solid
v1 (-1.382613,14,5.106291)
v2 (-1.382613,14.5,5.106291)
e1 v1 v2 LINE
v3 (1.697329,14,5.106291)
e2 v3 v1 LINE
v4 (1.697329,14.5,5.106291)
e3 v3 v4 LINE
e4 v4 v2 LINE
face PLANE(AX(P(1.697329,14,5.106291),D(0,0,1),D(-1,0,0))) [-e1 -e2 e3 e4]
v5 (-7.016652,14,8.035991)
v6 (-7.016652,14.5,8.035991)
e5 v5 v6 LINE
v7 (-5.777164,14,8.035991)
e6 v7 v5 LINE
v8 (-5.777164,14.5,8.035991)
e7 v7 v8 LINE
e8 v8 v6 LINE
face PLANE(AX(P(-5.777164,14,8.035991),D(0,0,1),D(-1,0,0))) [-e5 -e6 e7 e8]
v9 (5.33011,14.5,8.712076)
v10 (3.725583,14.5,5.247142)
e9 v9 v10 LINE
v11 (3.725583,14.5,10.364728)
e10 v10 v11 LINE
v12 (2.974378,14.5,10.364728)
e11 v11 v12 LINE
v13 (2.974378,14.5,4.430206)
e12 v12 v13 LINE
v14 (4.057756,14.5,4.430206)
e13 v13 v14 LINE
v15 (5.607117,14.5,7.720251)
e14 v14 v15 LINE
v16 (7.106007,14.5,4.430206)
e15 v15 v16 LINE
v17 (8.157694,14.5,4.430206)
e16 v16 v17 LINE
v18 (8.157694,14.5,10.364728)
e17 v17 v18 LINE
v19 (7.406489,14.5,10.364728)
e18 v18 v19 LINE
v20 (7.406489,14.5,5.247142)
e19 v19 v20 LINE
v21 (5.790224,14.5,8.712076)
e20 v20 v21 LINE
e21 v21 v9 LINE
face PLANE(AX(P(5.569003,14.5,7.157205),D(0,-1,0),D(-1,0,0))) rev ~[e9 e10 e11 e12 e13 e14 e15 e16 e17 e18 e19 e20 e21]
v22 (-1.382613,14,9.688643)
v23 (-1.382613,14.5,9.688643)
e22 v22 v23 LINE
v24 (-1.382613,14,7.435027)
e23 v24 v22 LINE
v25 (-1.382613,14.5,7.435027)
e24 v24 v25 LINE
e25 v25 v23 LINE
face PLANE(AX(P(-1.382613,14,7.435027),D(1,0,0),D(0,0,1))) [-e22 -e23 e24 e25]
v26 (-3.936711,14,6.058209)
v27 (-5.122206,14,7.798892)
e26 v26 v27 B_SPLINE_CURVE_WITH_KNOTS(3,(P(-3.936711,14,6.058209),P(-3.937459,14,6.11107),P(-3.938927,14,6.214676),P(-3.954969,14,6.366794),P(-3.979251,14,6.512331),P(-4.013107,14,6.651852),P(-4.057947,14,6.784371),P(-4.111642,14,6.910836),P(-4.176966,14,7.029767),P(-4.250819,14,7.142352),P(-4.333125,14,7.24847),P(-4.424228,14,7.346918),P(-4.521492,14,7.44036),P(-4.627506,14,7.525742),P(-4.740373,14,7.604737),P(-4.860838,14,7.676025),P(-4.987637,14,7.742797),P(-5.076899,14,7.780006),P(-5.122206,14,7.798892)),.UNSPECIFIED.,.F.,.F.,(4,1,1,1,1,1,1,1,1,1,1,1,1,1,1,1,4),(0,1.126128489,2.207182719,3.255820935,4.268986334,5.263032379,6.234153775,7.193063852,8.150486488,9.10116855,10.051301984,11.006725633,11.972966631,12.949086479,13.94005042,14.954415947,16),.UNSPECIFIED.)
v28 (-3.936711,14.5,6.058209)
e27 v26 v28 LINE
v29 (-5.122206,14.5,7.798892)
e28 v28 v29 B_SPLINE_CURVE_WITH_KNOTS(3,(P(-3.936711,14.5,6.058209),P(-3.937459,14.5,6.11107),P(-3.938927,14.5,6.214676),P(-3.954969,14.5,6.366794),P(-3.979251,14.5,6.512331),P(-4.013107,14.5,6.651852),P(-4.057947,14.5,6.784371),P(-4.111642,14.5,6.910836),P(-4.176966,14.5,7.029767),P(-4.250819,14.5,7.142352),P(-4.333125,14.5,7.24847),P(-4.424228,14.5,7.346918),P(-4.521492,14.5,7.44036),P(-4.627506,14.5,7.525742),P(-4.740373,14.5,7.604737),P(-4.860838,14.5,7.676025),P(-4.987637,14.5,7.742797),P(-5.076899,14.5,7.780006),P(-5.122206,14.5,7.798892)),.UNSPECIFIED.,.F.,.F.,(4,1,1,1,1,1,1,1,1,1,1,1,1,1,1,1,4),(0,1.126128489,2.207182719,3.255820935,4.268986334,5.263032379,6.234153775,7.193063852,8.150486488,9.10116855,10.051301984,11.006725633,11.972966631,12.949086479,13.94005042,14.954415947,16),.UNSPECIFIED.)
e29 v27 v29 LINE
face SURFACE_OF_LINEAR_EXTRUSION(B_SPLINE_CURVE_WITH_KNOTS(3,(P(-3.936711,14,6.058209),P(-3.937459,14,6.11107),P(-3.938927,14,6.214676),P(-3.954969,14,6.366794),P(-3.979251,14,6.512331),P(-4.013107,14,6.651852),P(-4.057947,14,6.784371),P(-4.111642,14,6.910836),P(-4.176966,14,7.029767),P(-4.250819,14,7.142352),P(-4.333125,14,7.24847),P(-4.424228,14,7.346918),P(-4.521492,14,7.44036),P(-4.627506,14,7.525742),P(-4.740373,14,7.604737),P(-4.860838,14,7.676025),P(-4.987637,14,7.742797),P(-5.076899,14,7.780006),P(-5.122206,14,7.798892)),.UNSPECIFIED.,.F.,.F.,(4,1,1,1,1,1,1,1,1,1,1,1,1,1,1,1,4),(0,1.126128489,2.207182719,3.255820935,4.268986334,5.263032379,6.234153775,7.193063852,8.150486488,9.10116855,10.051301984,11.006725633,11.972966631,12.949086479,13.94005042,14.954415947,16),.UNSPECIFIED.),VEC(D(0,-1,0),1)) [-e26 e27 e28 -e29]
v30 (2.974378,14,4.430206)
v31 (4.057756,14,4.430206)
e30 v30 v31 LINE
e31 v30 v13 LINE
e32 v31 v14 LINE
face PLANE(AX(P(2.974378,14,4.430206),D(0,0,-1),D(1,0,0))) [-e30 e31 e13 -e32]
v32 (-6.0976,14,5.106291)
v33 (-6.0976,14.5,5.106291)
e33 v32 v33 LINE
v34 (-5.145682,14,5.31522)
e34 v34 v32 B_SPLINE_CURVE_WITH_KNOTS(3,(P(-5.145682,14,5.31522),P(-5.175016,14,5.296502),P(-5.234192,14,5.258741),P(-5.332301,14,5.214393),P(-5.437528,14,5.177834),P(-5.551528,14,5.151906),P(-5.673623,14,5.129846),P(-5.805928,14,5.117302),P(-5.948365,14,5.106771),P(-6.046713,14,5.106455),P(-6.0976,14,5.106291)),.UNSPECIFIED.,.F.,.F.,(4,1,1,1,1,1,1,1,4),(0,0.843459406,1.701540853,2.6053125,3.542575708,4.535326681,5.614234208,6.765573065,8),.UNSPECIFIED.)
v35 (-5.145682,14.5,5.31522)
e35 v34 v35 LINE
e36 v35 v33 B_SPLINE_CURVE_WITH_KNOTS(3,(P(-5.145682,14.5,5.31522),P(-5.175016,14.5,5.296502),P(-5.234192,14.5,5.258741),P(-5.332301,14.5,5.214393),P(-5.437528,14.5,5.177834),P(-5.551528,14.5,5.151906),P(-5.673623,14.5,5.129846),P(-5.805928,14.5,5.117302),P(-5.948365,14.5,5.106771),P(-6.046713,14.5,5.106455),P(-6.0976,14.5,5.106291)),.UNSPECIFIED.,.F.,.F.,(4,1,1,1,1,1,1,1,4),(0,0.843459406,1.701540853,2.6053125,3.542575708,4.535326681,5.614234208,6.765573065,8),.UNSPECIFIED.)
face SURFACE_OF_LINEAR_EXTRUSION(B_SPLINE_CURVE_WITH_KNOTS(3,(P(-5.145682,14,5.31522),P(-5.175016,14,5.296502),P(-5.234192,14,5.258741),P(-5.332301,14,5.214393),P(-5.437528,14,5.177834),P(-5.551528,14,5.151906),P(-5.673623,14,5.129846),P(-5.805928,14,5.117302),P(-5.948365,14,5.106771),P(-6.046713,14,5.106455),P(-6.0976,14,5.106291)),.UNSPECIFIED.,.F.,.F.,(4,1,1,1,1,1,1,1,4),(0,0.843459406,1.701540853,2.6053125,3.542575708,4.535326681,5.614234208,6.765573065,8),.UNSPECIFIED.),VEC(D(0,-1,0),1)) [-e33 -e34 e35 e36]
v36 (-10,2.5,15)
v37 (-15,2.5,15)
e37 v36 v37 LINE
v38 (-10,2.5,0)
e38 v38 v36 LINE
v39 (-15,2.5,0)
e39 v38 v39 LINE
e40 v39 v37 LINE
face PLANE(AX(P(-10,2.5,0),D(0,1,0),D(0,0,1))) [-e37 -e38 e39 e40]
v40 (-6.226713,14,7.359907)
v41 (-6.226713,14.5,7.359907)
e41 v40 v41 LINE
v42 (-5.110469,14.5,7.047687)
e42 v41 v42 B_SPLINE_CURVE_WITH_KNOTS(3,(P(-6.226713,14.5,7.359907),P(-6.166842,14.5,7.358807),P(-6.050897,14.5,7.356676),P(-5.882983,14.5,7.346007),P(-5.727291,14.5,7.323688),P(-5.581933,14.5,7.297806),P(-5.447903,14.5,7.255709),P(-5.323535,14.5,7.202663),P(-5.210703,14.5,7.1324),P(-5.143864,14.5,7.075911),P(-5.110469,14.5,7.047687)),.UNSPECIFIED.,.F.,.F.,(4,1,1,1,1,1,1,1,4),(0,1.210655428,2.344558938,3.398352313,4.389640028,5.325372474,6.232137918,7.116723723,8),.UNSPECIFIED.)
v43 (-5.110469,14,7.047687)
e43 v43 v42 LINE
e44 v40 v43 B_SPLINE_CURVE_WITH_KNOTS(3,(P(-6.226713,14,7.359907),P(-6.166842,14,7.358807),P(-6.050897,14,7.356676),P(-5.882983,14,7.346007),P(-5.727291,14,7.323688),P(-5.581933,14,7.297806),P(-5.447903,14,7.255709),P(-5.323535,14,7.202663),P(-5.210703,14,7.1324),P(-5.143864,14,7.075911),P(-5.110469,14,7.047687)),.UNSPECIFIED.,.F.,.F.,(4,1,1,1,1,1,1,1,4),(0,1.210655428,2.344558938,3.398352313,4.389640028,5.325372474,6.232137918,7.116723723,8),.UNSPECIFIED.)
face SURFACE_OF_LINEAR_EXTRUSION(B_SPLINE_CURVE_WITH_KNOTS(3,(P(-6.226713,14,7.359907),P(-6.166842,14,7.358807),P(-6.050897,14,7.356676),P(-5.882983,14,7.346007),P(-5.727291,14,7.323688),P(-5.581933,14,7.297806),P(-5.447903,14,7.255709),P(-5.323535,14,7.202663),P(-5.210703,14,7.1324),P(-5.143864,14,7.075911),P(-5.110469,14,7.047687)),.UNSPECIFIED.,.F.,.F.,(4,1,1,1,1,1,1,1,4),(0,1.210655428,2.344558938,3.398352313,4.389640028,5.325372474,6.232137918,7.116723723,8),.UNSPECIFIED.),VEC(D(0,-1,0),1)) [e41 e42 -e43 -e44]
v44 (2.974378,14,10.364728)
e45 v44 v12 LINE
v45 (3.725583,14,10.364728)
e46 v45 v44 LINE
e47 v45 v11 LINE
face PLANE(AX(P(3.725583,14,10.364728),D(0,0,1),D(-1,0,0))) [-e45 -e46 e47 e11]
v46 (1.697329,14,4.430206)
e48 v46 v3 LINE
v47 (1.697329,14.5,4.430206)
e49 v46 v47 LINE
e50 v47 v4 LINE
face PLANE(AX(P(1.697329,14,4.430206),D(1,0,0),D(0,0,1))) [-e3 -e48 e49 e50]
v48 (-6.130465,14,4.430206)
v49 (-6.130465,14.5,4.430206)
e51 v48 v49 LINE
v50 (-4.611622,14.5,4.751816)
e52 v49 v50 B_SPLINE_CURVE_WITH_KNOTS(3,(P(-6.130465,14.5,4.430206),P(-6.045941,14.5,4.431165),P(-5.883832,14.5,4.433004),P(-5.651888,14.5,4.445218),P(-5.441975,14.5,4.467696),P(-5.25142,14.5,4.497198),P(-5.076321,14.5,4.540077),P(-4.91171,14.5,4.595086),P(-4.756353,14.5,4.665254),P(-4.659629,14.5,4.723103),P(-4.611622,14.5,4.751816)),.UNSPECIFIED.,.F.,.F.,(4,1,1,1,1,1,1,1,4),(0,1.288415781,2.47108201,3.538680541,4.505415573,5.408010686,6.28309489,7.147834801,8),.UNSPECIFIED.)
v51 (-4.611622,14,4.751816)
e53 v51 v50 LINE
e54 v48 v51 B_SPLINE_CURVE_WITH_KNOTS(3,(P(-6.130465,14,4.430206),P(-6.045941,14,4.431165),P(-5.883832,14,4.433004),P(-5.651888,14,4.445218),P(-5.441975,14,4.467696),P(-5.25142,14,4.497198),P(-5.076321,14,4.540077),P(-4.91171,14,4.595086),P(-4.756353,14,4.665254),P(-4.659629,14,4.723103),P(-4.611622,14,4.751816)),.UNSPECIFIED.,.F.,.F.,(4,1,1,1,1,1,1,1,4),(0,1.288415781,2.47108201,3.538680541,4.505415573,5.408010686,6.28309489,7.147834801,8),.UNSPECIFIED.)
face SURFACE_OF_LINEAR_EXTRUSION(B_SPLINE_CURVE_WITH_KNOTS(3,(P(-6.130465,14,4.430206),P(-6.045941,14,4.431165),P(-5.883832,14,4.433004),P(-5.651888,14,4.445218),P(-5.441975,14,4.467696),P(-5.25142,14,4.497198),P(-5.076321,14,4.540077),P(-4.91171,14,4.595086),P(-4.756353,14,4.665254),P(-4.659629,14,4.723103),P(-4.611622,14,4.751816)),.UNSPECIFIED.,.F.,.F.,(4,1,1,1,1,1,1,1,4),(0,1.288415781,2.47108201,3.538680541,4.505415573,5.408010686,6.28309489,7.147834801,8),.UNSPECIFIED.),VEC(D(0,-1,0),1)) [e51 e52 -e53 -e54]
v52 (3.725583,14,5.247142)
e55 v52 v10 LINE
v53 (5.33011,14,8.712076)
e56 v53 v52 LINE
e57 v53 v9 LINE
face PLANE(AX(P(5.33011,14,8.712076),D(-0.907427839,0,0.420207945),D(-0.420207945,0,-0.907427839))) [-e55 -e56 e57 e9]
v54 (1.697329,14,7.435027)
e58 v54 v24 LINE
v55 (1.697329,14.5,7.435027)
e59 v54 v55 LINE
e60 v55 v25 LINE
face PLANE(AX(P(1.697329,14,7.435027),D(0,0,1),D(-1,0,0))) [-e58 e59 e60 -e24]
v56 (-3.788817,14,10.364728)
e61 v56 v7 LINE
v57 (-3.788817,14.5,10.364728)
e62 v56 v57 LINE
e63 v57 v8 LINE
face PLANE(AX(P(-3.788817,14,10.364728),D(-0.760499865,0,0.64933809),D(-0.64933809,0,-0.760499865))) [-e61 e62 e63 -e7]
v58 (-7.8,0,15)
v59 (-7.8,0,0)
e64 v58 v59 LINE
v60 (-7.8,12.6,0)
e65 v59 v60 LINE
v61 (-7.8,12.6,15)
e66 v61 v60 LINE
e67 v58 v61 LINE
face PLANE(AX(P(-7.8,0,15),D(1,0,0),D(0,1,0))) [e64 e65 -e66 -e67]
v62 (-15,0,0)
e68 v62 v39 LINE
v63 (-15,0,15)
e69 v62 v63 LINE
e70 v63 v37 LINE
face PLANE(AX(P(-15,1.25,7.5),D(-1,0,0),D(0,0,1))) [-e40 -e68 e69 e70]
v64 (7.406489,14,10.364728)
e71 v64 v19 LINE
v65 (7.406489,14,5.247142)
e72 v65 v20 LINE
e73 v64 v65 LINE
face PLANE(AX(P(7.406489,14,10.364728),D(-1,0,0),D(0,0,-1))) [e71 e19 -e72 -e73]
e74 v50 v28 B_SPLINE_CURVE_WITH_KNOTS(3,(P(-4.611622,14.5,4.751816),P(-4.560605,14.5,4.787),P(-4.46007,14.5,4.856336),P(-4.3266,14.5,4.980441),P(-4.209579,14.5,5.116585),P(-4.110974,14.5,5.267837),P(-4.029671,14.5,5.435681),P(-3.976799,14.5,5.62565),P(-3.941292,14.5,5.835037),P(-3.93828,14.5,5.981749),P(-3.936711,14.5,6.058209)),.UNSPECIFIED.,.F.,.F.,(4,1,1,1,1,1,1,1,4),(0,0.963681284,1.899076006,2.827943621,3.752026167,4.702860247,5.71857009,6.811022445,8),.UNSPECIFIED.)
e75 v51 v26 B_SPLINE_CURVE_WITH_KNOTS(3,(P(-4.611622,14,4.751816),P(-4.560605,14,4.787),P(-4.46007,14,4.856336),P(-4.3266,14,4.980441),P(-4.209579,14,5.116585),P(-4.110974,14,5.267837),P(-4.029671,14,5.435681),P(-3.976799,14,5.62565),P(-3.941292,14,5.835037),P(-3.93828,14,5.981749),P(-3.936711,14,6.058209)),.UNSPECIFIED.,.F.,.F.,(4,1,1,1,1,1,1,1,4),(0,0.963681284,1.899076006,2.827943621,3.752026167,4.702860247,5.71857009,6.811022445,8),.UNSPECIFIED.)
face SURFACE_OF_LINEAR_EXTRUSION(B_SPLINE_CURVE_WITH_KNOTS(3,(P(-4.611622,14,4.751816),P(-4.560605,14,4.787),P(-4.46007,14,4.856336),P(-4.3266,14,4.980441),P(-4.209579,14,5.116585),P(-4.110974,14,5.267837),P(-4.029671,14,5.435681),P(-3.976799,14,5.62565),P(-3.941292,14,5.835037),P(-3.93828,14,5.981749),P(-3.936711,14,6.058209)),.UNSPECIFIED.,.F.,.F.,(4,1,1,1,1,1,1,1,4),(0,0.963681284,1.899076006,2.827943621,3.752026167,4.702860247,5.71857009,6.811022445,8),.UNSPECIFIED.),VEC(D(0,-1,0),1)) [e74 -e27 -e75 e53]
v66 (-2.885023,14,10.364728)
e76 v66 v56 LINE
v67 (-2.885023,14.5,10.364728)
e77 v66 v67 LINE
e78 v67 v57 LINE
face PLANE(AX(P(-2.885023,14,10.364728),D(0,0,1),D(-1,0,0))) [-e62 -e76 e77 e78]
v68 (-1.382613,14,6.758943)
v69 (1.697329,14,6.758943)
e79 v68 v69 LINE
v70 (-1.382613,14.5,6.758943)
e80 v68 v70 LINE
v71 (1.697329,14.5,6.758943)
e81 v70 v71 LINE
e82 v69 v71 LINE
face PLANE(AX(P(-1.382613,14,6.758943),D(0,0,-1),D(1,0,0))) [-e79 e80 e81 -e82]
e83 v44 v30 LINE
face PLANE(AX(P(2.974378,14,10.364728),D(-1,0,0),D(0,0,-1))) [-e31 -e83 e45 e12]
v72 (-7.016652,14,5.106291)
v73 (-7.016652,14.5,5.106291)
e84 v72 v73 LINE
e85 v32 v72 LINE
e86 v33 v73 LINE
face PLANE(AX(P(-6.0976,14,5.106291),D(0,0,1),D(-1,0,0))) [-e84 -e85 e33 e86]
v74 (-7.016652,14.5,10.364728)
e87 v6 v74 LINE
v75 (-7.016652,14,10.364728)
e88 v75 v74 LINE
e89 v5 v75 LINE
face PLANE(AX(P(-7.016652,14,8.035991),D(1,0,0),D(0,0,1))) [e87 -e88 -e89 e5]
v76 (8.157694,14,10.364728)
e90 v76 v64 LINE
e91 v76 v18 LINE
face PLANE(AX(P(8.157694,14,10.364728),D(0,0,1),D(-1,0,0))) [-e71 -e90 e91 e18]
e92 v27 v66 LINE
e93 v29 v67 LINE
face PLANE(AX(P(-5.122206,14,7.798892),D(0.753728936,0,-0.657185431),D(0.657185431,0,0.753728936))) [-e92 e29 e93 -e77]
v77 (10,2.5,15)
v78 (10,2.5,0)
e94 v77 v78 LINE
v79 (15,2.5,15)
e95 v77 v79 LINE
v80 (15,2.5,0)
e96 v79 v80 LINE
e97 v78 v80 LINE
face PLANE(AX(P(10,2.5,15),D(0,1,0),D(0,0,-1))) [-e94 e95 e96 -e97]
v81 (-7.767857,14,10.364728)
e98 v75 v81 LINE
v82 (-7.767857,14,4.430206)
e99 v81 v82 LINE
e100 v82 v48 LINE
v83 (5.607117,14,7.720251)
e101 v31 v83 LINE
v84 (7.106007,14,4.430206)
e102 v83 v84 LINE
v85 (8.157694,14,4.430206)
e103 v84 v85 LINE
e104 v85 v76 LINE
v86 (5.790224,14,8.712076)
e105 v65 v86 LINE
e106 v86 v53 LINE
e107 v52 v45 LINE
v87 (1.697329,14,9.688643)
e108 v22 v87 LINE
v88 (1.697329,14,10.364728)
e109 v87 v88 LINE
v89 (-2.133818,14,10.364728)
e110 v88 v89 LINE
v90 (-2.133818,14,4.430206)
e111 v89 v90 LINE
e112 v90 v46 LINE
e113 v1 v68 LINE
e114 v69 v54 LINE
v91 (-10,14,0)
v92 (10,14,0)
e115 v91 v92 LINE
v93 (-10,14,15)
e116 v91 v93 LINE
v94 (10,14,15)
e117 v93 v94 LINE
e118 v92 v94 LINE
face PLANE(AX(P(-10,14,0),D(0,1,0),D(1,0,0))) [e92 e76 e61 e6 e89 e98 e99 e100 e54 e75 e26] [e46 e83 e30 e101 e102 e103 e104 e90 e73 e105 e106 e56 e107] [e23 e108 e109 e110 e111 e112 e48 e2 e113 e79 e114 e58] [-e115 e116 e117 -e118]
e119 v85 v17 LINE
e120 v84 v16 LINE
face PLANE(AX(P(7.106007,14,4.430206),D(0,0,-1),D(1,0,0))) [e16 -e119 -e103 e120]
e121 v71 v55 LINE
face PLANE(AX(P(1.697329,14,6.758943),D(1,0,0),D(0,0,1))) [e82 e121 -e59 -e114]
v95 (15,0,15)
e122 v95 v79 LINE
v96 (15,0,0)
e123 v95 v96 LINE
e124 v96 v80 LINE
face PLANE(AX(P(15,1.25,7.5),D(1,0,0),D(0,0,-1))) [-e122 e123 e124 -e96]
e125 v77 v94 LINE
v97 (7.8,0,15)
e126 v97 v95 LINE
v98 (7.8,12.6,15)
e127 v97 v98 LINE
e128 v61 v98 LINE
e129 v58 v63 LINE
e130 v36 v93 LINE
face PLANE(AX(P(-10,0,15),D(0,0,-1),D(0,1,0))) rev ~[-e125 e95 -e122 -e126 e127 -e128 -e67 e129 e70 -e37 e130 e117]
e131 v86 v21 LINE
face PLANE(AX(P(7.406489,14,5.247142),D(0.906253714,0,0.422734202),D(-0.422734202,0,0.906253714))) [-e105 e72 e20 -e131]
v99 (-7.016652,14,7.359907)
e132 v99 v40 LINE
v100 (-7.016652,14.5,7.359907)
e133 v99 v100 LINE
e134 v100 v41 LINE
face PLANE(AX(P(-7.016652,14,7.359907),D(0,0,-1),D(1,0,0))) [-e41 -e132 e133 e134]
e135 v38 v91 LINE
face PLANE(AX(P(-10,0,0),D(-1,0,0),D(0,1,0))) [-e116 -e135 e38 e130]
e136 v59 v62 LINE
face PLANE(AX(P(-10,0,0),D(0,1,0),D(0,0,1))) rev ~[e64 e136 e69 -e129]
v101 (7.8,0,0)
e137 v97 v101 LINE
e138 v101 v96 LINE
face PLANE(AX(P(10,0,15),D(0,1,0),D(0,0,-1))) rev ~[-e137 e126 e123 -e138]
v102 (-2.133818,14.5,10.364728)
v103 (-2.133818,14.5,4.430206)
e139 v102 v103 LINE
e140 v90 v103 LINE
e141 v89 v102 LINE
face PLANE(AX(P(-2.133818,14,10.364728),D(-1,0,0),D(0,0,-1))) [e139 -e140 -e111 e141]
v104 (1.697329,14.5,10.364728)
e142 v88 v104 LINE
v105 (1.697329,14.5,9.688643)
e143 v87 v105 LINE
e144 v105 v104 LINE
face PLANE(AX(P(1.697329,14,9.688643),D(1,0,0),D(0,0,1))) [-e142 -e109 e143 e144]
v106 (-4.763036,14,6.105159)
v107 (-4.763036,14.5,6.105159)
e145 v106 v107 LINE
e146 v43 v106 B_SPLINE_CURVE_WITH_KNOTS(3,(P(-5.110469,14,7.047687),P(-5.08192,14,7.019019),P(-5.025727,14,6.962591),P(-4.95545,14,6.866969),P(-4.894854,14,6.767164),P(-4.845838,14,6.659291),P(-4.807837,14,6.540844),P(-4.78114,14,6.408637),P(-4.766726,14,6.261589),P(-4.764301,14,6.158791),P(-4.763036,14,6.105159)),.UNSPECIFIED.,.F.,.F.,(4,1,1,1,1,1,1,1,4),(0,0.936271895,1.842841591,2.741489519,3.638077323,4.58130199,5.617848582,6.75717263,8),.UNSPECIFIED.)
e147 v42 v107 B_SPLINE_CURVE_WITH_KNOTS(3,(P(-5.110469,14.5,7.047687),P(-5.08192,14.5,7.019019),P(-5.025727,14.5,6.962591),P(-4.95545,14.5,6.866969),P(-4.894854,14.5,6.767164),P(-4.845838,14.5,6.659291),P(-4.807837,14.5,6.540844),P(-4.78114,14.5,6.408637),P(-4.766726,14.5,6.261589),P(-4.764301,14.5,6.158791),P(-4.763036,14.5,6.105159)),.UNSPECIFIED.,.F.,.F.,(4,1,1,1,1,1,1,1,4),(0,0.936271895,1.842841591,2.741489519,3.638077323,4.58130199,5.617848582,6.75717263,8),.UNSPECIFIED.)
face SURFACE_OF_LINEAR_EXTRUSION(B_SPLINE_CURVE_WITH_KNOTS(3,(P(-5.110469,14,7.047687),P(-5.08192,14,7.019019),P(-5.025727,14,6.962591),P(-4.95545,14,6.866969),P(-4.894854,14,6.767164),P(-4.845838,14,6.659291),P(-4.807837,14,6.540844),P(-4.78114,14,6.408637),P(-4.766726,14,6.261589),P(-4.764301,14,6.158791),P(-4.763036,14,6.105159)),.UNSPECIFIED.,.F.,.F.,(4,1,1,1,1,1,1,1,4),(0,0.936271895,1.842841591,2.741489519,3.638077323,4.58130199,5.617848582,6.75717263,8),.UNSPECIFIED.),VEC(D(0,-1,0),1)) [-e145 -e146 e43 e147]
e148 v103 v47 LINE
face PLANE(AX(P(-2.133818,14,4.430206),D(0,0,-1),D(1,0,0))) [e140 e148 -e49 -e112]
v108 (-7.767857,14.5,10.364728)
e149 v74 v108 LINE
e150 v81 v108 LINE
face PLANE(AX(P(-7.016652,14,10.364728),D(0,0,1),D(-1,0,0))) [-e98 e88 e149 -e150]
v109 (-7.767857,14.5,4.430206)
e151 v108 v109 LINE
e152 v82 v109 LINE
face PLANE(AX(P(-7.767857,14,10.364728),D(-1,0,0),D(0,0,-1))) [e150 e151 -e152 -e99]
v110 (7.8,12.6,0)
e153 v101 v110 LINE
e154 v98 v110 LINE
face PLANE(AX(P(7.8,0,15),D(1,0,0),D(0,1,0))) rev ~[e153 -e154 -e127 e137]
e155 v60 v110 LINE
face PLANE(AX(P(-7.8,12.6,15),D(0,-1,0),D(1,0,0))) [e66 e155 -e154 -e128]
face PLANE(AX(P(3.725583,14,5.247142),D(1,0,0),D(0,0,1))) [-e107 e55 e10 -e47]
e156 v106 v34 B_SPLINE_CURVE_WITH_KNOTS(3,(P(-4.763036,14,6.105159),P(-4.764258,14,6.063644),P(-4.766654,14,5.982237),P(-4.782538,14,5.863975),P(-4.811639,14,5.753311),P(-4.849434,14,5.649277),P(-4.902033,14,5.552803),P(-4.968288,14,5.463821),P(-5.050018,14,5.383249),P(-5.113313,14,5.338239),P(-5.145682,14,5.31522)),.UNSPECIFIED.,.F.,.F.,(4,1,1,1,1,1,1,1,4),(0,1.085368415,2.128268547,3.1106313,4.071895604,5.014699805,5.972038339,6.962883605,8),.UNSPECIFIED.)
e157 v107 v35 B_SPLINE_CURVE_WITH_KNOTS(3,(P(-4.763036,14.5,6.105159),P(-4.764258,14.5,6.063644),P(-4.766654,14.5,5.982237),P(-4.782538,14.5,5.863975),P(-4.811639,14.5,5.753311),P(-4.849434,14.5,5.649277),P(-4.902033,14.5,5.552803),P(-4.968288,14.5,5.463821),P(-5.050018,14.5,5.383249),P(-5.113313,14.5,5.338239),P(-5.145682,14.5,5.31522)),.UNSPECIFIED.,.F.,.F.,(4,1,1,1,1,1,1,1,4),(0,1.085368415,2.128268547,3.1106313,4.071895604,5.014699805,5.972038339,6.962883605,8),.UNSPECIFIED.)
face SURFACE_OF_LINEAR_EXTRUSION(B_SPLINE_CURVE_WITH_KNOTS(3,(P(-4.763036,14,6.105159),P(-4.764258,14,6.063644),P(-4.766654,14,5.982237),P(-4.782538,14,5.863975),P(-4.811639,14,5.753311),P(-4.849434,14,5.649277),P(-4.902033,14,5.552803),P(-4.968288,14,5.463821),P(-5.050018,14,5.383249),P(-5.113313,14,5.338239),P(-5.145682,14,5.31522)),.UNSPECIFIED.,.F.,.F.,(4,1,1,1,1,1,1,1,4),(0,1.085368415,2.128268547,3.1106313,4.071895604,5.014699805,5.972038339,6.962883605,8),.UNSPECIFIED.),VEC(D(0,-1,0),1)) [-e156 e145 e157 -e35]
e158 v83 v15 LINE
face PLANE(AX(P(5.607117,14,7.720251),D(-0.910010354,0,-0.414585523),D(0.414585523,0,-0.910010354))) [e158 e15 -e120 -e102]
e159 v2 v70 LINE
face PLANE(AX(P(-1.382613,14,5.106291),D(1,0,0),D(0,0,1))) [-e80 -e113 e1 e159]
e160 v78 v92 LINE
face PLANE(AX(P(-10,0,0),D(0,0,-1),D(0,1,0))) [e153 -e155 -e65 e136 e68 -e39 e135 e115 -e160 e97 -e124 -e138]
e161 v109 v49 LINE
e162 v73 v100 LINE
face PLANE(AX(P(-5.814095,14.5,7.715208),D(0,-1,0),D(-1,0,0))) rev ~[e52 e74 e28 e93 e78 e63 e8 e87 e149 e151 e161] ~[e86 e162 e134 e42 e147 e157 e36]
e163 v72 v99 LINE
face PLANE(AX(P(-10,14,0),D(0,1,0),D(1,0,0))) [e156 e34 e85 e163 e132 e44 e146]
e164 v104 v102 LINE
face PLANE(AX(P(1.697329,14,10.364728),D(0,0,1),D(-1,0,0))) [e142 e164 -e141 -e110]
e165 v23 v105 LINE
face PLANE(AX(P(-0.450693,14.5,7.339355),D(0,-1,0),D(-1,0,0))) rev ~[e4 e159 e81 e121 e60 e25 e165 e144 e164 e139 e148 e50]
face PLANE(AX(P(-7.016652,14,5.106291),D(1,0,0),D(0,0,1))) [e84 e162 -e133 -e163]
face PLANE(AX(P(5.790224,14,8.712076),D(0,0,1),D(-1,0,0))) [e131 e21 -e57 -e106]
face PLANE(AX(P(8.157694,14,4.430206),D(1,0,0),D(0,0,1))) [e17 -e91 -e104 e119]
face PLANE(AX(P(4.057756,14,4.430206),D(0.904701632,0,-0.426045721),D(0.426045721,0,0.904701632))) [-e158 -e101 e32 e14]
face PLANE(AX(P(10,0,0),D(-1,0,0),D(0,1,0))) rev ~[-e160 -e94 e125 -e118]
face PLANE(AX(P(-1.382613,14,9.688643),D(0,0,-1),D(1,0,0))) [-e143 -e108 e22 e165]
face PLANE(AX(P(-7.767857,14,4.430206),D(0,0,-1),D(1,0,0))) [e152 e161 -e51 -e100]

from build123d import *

# Parameters (mm, degrees)
CROQUIS1_W              = 20
CROQUIS1_H              = 14
SALIENTE_EXTRUIR1_DEPTH = 15
CROQUIS2_W              = 15.6
CROQUIS2_H              = 12.6
CORTAR_EXTRUIR1_DEPTH   = 23.825424421
CROQUIS3_W              = 15
CROQUIS3_H              = 2.5
SALIENTE_EXTRUIR2_DEPTH = 5
CROQUIS4_W              = 15
CROQUIS4_H              = 2.5
SALIENTE_EXTRUIR3_DEPTH = 5
SALIENTE_EXTRUIR4_DEPTH = 0.5


with BuildPart() as part:
    # Croquis1 → Saliente-Extruir1 (new body)
    with BuildSketch(Plane.XY):
        with Locations((0, 7)):
            Rectangle(CROQUIS1_W, CROQUIS1_H)
    extrude(amount=SALIENTE_EXTRUIR1_DEPTH)

    # Croquis2 → Cortar-Extruir1 (cut, through all)
    with BuildSketch(Plane.XY.offset(15)):
        with Locations((0, 6.3)):
            Rectangle(CROQUIS2_W, CROQUIS2_H)
    extrude(amount=-CORTAR_EXTRUIR1_DEPTH, mode=Mode.SUBTRACT)

    # Croquis3 → Saliente-Extruir2 (add)
    with BuildSketch(Plane(origin=(10, 0, 0), x_dir=(0, 0, -1), z_dir=(1, 0, 0))):
        with Locations((-7.5, 1.25)):
            Rectangle(CROQUIS3_W, CROQUIS3_H)
    extrude(amount=SALIENTE_EXTRUIR2_DEPTH)

    # Croquis4 → Saliente-Extruir3 (add)
    with BuildSketch(Plane.ZY.offset(10)):
        with Locations((7.5, 1.25)):
            Rectangle(CROQUIS4_W, CROQUIS4_H)
    extrude(amount=SALIENTE_EXTRUIR3_DEPTH)

    # Croquis5 → Saliente-Extruir4 (add)
    # profile 1 of 3: a face of its own
    with BuildSketch(Plane(origin=(0, 14, 0), x_dir=(1, 0, 0), z_dir=(0, 1, 0))):
        with BuildLine():
            Line((-2.88502332, -10.364727743), (-3.788817138, -10.364727743))
            Line((-3.788817138, -10.364727743), (-5.777163537, -8.035991464))
            Line((-5.777163537, -8.035991464), (-7.016652202, -8.035991464))
            Line((-7.016652202, -8.035991464), (-7.016652202, -10.364727743))
            Line((-7.016652202, -10.364727743), (-7.767857453, -10.364727743))
            Line((-7.767857453, -10.364727743), (-7.767857453, -4.430206259))
            Line((-7.767857453, -4.430206259), (-6.130464757, -4.430206259))
            add(Edge.make_bspline(
                [(-6.130464757, -4.430206259), (-6.0459413, -4.431165013), (-5.883831835, -4.433003829), (-5.651888426, -4.445217717), (-5.441974521, -4.467695996), (-5.251420073, -4.497198358), (-5.076320928, -4.540077128), (-4.911710387, -4.595085737), (-4.756352702, -4.665254498), (-4.659629191, -4.7231034), (-4.61162164, -4.751816007)],
                knots=[0, 0, 0, 0, 1.288415781, 2.47108201, 3.538680541, 4.505415573, 5.408010686, 6.28309489, 7.147834801, 8, 8, 8, 8], degree=3))
            add(Edge.make_bspline(
                [(-4.61162164, -4.751816007), (-4.56060529, -4.787000395), (-4.460070052, -4.856336418), (-4.326599875, -4.980440946), (-4.209578564, -5.1165849), (-4.110973827, -5.26783655), (-4.02967085, -5.435680707), (-3.976798666, -5.62564965), (-3.941292298, -5.835036609), (-3.938280358, -5.98174904), (-3.936710672, -6.058208889)],
                knots=[0, 0, 0, 0, 0.963681284, 1.899076006, 2.827943621, 3.752026167, 4.702860247, 5.71857009, 6.811022445, 8, 8, 8, 8], degree=3))
            add(Edge.make_bspline(
                [(-3.936710672, -6.058208889), (-3.93745934, -6.111069878), (-3.93892671, -6.214676048), (-3.954968911, -6.366794009), (-3.979251178, -6.512331235), (-4.01310717, -6.651852236), (-4.05794689, -6.784371061), (-4.111642187, -6.910836248), (-4.176966463, -7.029766654), (-4.250819351, -7.142352152), (-4.333124618, -7.248469966), (-4.424228497, -7.346918297), (-4.521492422, -7.440360452), (-4.627505642, -7.525742064), (-4.740372634, -7.604737188), (-4.860837683, -7.676024782), (-4.98763716, -7.742797298), (-5.076899105, -7.780006005), (-5.122206459, -7.798892307)],
                knots=[0, 0, 0, 0, 1.126128489, 2.207182719, 3.255820935, 4.268986334, 5.263032379, 6.234153775, 7.193063852, 8.150486488, 9.10116855, 10.051301984, 11.006725633, 11.972966631, 12.949086479, 13.94005042, 14.954415947, 16, 16, 16, 16], degree=3))
            Line((-5.122206459, -7.798892307), (-2.88502332, -10.364727743))
        make_face()
        with BuildLine():
            add(Edge.make_bspline(
                [(-4.763036448, -6.105159217), (-4.76425827, -6.063643734), (-4.766654107, -5.982237185), (-4.782538048, -5.863974915), (-4.811639256, -5.753311079), (-4.849434013, -5.64927727), (-4.902032931, -5.552802913), (-4.968287593, -5.463820517), (-5.050018411, -5.383249363), (-5.113312501, -5.338238747), (-5.145681623, -5.315219945)],
                knots=[0, 0, 0, 0, 1.085368415, 2.128268547, 3.1106313, 4.071895604, 5.014699805, 5.972038339, 6.962883605, 8, 8, 8, 8], degree=3))
            add(Edge.make_bspline(
                [(-5.145681623, -5.315219945), (-5.175015585, -5.296501747), (-5.234192037, -5.258740856), (-5.332300766, -5.214393463), (-5.437527778, -5.177833986), (-5.551527993, -5.151906272), (-5.67362264, -5.129845566), (-5.805927755, -5.117301749), (-5.948364796, -5.106770759), (-6.046712907, -5.10645458), (-6.097599527, -5.106290985)],
                knots=[0, 0, 0, 0, 0.843459406, 1.701540853, 2.6053125, 3.542575708, 4.535326681, 5.614234208, 6.765573065, 8, 8, 8, 8], degree=3))
            Line((-6.097599527, -5.106290985), (-7.016652202, -5.106290985))
            Line((-7.016652202, -5.106290985), (-7.016652202, -7.359906738))
            Line((-7.016652202, -7.359906738), (-6.22671293, -7.359906738))
            add(Edge.make_bspline(
                [(-6.22671293, -7.359906738), (-6.166842369, -7.358806598), (-6.050896861, -7.356676062), (-5.882983115, -7.346006667), (-5.727291264, -7.323687715), (-5.581932855, -7.297806333), (-5.447903419, -7.255709311), (-5.323535107, -7.202662948), (-5.210703341, -7.132400077), (-5.143863862, -7.075910781), (-5.110468877, -7.047687056)],
                knots=[0, 0, 0, 0, 1.210655428, 2.344558938, 3.398352313, 4.389640028, 5.325372474, 6.232137918, 7.116723723, 8, 8, 8, 8], degree=3))
            add(Edge.make_bspline(
                [(-5.110468877, -7.047687056), (-5.081919706, -7.019018524), (-5.025727055, -6.962590938), (-4.955449604, -6.866968879), (-4.894853881, -6.767164245), (-4.845837842, -6.659290565), (-4.807837038, -6.540844414), (-4.781139775, -6.408636819), (-4.766726062, -6.261588504), (-4.764301436, -6.158791145), (-4.763036448, -6.105159217)],
                knots=[0, 0, 0, 0, 0.936271895, 1.842841591, 2.741489519, 3.638077323, 4.58130199, 5.617848582, 6.75717263, 8, 8, 8, 8], degree=3))
        make_face(mode=Mode.SUBTRACT)
    # profile 2 of 3: a face of its own
    with BuildSketch(Plane(origin=(0, 14, 0), x_dir=(1, 0, 0), z_dir=(0, 1, 0))):
        Polygon((1.697328712, -10.364727743), (-2.133818069, -10.364727743), (-2.133818069, -4.430206259), (1.697328712, -4.430206259), (1.697328712, -5.106290985), (-1.382612818, -5.106290985), (-1.382612818, -6.758942537), (1.697328712, -6.758942537), (1.697328712, -7.435027264), (-1.382612818, -7.435027264), (-1.382612818, -9.688643017), (1.697328712, -9.688643017), align=None)
    # profile 3 of 3: a face of its own
    with BuildSketch(Plane(origin=(0, 14, 0), x_dir=(1, 0, 0), z_dir=(0, 1, 0))):
        Polygon((8.157693872, -10.364727743), (7.406488621, -10.364727743), (7.406488621, -5.247141969), (5.790223573, -8.712076191), (5.330110356, -8.712076191), (3.72558289, -5.247141969), (3.72558289, -10.364727743), (2.974377639, -10.364727743), (2.974377639, -4.430206259), (4.057756462, -4.430206259), (5.607117293, -7.720250507), (7.10600652, -4.430206259), (8.157693872, -4.430206259), align=None)
    extrude(amount=SALIENTE_EXTRUIR4_DEPTH)


solid = part.part
